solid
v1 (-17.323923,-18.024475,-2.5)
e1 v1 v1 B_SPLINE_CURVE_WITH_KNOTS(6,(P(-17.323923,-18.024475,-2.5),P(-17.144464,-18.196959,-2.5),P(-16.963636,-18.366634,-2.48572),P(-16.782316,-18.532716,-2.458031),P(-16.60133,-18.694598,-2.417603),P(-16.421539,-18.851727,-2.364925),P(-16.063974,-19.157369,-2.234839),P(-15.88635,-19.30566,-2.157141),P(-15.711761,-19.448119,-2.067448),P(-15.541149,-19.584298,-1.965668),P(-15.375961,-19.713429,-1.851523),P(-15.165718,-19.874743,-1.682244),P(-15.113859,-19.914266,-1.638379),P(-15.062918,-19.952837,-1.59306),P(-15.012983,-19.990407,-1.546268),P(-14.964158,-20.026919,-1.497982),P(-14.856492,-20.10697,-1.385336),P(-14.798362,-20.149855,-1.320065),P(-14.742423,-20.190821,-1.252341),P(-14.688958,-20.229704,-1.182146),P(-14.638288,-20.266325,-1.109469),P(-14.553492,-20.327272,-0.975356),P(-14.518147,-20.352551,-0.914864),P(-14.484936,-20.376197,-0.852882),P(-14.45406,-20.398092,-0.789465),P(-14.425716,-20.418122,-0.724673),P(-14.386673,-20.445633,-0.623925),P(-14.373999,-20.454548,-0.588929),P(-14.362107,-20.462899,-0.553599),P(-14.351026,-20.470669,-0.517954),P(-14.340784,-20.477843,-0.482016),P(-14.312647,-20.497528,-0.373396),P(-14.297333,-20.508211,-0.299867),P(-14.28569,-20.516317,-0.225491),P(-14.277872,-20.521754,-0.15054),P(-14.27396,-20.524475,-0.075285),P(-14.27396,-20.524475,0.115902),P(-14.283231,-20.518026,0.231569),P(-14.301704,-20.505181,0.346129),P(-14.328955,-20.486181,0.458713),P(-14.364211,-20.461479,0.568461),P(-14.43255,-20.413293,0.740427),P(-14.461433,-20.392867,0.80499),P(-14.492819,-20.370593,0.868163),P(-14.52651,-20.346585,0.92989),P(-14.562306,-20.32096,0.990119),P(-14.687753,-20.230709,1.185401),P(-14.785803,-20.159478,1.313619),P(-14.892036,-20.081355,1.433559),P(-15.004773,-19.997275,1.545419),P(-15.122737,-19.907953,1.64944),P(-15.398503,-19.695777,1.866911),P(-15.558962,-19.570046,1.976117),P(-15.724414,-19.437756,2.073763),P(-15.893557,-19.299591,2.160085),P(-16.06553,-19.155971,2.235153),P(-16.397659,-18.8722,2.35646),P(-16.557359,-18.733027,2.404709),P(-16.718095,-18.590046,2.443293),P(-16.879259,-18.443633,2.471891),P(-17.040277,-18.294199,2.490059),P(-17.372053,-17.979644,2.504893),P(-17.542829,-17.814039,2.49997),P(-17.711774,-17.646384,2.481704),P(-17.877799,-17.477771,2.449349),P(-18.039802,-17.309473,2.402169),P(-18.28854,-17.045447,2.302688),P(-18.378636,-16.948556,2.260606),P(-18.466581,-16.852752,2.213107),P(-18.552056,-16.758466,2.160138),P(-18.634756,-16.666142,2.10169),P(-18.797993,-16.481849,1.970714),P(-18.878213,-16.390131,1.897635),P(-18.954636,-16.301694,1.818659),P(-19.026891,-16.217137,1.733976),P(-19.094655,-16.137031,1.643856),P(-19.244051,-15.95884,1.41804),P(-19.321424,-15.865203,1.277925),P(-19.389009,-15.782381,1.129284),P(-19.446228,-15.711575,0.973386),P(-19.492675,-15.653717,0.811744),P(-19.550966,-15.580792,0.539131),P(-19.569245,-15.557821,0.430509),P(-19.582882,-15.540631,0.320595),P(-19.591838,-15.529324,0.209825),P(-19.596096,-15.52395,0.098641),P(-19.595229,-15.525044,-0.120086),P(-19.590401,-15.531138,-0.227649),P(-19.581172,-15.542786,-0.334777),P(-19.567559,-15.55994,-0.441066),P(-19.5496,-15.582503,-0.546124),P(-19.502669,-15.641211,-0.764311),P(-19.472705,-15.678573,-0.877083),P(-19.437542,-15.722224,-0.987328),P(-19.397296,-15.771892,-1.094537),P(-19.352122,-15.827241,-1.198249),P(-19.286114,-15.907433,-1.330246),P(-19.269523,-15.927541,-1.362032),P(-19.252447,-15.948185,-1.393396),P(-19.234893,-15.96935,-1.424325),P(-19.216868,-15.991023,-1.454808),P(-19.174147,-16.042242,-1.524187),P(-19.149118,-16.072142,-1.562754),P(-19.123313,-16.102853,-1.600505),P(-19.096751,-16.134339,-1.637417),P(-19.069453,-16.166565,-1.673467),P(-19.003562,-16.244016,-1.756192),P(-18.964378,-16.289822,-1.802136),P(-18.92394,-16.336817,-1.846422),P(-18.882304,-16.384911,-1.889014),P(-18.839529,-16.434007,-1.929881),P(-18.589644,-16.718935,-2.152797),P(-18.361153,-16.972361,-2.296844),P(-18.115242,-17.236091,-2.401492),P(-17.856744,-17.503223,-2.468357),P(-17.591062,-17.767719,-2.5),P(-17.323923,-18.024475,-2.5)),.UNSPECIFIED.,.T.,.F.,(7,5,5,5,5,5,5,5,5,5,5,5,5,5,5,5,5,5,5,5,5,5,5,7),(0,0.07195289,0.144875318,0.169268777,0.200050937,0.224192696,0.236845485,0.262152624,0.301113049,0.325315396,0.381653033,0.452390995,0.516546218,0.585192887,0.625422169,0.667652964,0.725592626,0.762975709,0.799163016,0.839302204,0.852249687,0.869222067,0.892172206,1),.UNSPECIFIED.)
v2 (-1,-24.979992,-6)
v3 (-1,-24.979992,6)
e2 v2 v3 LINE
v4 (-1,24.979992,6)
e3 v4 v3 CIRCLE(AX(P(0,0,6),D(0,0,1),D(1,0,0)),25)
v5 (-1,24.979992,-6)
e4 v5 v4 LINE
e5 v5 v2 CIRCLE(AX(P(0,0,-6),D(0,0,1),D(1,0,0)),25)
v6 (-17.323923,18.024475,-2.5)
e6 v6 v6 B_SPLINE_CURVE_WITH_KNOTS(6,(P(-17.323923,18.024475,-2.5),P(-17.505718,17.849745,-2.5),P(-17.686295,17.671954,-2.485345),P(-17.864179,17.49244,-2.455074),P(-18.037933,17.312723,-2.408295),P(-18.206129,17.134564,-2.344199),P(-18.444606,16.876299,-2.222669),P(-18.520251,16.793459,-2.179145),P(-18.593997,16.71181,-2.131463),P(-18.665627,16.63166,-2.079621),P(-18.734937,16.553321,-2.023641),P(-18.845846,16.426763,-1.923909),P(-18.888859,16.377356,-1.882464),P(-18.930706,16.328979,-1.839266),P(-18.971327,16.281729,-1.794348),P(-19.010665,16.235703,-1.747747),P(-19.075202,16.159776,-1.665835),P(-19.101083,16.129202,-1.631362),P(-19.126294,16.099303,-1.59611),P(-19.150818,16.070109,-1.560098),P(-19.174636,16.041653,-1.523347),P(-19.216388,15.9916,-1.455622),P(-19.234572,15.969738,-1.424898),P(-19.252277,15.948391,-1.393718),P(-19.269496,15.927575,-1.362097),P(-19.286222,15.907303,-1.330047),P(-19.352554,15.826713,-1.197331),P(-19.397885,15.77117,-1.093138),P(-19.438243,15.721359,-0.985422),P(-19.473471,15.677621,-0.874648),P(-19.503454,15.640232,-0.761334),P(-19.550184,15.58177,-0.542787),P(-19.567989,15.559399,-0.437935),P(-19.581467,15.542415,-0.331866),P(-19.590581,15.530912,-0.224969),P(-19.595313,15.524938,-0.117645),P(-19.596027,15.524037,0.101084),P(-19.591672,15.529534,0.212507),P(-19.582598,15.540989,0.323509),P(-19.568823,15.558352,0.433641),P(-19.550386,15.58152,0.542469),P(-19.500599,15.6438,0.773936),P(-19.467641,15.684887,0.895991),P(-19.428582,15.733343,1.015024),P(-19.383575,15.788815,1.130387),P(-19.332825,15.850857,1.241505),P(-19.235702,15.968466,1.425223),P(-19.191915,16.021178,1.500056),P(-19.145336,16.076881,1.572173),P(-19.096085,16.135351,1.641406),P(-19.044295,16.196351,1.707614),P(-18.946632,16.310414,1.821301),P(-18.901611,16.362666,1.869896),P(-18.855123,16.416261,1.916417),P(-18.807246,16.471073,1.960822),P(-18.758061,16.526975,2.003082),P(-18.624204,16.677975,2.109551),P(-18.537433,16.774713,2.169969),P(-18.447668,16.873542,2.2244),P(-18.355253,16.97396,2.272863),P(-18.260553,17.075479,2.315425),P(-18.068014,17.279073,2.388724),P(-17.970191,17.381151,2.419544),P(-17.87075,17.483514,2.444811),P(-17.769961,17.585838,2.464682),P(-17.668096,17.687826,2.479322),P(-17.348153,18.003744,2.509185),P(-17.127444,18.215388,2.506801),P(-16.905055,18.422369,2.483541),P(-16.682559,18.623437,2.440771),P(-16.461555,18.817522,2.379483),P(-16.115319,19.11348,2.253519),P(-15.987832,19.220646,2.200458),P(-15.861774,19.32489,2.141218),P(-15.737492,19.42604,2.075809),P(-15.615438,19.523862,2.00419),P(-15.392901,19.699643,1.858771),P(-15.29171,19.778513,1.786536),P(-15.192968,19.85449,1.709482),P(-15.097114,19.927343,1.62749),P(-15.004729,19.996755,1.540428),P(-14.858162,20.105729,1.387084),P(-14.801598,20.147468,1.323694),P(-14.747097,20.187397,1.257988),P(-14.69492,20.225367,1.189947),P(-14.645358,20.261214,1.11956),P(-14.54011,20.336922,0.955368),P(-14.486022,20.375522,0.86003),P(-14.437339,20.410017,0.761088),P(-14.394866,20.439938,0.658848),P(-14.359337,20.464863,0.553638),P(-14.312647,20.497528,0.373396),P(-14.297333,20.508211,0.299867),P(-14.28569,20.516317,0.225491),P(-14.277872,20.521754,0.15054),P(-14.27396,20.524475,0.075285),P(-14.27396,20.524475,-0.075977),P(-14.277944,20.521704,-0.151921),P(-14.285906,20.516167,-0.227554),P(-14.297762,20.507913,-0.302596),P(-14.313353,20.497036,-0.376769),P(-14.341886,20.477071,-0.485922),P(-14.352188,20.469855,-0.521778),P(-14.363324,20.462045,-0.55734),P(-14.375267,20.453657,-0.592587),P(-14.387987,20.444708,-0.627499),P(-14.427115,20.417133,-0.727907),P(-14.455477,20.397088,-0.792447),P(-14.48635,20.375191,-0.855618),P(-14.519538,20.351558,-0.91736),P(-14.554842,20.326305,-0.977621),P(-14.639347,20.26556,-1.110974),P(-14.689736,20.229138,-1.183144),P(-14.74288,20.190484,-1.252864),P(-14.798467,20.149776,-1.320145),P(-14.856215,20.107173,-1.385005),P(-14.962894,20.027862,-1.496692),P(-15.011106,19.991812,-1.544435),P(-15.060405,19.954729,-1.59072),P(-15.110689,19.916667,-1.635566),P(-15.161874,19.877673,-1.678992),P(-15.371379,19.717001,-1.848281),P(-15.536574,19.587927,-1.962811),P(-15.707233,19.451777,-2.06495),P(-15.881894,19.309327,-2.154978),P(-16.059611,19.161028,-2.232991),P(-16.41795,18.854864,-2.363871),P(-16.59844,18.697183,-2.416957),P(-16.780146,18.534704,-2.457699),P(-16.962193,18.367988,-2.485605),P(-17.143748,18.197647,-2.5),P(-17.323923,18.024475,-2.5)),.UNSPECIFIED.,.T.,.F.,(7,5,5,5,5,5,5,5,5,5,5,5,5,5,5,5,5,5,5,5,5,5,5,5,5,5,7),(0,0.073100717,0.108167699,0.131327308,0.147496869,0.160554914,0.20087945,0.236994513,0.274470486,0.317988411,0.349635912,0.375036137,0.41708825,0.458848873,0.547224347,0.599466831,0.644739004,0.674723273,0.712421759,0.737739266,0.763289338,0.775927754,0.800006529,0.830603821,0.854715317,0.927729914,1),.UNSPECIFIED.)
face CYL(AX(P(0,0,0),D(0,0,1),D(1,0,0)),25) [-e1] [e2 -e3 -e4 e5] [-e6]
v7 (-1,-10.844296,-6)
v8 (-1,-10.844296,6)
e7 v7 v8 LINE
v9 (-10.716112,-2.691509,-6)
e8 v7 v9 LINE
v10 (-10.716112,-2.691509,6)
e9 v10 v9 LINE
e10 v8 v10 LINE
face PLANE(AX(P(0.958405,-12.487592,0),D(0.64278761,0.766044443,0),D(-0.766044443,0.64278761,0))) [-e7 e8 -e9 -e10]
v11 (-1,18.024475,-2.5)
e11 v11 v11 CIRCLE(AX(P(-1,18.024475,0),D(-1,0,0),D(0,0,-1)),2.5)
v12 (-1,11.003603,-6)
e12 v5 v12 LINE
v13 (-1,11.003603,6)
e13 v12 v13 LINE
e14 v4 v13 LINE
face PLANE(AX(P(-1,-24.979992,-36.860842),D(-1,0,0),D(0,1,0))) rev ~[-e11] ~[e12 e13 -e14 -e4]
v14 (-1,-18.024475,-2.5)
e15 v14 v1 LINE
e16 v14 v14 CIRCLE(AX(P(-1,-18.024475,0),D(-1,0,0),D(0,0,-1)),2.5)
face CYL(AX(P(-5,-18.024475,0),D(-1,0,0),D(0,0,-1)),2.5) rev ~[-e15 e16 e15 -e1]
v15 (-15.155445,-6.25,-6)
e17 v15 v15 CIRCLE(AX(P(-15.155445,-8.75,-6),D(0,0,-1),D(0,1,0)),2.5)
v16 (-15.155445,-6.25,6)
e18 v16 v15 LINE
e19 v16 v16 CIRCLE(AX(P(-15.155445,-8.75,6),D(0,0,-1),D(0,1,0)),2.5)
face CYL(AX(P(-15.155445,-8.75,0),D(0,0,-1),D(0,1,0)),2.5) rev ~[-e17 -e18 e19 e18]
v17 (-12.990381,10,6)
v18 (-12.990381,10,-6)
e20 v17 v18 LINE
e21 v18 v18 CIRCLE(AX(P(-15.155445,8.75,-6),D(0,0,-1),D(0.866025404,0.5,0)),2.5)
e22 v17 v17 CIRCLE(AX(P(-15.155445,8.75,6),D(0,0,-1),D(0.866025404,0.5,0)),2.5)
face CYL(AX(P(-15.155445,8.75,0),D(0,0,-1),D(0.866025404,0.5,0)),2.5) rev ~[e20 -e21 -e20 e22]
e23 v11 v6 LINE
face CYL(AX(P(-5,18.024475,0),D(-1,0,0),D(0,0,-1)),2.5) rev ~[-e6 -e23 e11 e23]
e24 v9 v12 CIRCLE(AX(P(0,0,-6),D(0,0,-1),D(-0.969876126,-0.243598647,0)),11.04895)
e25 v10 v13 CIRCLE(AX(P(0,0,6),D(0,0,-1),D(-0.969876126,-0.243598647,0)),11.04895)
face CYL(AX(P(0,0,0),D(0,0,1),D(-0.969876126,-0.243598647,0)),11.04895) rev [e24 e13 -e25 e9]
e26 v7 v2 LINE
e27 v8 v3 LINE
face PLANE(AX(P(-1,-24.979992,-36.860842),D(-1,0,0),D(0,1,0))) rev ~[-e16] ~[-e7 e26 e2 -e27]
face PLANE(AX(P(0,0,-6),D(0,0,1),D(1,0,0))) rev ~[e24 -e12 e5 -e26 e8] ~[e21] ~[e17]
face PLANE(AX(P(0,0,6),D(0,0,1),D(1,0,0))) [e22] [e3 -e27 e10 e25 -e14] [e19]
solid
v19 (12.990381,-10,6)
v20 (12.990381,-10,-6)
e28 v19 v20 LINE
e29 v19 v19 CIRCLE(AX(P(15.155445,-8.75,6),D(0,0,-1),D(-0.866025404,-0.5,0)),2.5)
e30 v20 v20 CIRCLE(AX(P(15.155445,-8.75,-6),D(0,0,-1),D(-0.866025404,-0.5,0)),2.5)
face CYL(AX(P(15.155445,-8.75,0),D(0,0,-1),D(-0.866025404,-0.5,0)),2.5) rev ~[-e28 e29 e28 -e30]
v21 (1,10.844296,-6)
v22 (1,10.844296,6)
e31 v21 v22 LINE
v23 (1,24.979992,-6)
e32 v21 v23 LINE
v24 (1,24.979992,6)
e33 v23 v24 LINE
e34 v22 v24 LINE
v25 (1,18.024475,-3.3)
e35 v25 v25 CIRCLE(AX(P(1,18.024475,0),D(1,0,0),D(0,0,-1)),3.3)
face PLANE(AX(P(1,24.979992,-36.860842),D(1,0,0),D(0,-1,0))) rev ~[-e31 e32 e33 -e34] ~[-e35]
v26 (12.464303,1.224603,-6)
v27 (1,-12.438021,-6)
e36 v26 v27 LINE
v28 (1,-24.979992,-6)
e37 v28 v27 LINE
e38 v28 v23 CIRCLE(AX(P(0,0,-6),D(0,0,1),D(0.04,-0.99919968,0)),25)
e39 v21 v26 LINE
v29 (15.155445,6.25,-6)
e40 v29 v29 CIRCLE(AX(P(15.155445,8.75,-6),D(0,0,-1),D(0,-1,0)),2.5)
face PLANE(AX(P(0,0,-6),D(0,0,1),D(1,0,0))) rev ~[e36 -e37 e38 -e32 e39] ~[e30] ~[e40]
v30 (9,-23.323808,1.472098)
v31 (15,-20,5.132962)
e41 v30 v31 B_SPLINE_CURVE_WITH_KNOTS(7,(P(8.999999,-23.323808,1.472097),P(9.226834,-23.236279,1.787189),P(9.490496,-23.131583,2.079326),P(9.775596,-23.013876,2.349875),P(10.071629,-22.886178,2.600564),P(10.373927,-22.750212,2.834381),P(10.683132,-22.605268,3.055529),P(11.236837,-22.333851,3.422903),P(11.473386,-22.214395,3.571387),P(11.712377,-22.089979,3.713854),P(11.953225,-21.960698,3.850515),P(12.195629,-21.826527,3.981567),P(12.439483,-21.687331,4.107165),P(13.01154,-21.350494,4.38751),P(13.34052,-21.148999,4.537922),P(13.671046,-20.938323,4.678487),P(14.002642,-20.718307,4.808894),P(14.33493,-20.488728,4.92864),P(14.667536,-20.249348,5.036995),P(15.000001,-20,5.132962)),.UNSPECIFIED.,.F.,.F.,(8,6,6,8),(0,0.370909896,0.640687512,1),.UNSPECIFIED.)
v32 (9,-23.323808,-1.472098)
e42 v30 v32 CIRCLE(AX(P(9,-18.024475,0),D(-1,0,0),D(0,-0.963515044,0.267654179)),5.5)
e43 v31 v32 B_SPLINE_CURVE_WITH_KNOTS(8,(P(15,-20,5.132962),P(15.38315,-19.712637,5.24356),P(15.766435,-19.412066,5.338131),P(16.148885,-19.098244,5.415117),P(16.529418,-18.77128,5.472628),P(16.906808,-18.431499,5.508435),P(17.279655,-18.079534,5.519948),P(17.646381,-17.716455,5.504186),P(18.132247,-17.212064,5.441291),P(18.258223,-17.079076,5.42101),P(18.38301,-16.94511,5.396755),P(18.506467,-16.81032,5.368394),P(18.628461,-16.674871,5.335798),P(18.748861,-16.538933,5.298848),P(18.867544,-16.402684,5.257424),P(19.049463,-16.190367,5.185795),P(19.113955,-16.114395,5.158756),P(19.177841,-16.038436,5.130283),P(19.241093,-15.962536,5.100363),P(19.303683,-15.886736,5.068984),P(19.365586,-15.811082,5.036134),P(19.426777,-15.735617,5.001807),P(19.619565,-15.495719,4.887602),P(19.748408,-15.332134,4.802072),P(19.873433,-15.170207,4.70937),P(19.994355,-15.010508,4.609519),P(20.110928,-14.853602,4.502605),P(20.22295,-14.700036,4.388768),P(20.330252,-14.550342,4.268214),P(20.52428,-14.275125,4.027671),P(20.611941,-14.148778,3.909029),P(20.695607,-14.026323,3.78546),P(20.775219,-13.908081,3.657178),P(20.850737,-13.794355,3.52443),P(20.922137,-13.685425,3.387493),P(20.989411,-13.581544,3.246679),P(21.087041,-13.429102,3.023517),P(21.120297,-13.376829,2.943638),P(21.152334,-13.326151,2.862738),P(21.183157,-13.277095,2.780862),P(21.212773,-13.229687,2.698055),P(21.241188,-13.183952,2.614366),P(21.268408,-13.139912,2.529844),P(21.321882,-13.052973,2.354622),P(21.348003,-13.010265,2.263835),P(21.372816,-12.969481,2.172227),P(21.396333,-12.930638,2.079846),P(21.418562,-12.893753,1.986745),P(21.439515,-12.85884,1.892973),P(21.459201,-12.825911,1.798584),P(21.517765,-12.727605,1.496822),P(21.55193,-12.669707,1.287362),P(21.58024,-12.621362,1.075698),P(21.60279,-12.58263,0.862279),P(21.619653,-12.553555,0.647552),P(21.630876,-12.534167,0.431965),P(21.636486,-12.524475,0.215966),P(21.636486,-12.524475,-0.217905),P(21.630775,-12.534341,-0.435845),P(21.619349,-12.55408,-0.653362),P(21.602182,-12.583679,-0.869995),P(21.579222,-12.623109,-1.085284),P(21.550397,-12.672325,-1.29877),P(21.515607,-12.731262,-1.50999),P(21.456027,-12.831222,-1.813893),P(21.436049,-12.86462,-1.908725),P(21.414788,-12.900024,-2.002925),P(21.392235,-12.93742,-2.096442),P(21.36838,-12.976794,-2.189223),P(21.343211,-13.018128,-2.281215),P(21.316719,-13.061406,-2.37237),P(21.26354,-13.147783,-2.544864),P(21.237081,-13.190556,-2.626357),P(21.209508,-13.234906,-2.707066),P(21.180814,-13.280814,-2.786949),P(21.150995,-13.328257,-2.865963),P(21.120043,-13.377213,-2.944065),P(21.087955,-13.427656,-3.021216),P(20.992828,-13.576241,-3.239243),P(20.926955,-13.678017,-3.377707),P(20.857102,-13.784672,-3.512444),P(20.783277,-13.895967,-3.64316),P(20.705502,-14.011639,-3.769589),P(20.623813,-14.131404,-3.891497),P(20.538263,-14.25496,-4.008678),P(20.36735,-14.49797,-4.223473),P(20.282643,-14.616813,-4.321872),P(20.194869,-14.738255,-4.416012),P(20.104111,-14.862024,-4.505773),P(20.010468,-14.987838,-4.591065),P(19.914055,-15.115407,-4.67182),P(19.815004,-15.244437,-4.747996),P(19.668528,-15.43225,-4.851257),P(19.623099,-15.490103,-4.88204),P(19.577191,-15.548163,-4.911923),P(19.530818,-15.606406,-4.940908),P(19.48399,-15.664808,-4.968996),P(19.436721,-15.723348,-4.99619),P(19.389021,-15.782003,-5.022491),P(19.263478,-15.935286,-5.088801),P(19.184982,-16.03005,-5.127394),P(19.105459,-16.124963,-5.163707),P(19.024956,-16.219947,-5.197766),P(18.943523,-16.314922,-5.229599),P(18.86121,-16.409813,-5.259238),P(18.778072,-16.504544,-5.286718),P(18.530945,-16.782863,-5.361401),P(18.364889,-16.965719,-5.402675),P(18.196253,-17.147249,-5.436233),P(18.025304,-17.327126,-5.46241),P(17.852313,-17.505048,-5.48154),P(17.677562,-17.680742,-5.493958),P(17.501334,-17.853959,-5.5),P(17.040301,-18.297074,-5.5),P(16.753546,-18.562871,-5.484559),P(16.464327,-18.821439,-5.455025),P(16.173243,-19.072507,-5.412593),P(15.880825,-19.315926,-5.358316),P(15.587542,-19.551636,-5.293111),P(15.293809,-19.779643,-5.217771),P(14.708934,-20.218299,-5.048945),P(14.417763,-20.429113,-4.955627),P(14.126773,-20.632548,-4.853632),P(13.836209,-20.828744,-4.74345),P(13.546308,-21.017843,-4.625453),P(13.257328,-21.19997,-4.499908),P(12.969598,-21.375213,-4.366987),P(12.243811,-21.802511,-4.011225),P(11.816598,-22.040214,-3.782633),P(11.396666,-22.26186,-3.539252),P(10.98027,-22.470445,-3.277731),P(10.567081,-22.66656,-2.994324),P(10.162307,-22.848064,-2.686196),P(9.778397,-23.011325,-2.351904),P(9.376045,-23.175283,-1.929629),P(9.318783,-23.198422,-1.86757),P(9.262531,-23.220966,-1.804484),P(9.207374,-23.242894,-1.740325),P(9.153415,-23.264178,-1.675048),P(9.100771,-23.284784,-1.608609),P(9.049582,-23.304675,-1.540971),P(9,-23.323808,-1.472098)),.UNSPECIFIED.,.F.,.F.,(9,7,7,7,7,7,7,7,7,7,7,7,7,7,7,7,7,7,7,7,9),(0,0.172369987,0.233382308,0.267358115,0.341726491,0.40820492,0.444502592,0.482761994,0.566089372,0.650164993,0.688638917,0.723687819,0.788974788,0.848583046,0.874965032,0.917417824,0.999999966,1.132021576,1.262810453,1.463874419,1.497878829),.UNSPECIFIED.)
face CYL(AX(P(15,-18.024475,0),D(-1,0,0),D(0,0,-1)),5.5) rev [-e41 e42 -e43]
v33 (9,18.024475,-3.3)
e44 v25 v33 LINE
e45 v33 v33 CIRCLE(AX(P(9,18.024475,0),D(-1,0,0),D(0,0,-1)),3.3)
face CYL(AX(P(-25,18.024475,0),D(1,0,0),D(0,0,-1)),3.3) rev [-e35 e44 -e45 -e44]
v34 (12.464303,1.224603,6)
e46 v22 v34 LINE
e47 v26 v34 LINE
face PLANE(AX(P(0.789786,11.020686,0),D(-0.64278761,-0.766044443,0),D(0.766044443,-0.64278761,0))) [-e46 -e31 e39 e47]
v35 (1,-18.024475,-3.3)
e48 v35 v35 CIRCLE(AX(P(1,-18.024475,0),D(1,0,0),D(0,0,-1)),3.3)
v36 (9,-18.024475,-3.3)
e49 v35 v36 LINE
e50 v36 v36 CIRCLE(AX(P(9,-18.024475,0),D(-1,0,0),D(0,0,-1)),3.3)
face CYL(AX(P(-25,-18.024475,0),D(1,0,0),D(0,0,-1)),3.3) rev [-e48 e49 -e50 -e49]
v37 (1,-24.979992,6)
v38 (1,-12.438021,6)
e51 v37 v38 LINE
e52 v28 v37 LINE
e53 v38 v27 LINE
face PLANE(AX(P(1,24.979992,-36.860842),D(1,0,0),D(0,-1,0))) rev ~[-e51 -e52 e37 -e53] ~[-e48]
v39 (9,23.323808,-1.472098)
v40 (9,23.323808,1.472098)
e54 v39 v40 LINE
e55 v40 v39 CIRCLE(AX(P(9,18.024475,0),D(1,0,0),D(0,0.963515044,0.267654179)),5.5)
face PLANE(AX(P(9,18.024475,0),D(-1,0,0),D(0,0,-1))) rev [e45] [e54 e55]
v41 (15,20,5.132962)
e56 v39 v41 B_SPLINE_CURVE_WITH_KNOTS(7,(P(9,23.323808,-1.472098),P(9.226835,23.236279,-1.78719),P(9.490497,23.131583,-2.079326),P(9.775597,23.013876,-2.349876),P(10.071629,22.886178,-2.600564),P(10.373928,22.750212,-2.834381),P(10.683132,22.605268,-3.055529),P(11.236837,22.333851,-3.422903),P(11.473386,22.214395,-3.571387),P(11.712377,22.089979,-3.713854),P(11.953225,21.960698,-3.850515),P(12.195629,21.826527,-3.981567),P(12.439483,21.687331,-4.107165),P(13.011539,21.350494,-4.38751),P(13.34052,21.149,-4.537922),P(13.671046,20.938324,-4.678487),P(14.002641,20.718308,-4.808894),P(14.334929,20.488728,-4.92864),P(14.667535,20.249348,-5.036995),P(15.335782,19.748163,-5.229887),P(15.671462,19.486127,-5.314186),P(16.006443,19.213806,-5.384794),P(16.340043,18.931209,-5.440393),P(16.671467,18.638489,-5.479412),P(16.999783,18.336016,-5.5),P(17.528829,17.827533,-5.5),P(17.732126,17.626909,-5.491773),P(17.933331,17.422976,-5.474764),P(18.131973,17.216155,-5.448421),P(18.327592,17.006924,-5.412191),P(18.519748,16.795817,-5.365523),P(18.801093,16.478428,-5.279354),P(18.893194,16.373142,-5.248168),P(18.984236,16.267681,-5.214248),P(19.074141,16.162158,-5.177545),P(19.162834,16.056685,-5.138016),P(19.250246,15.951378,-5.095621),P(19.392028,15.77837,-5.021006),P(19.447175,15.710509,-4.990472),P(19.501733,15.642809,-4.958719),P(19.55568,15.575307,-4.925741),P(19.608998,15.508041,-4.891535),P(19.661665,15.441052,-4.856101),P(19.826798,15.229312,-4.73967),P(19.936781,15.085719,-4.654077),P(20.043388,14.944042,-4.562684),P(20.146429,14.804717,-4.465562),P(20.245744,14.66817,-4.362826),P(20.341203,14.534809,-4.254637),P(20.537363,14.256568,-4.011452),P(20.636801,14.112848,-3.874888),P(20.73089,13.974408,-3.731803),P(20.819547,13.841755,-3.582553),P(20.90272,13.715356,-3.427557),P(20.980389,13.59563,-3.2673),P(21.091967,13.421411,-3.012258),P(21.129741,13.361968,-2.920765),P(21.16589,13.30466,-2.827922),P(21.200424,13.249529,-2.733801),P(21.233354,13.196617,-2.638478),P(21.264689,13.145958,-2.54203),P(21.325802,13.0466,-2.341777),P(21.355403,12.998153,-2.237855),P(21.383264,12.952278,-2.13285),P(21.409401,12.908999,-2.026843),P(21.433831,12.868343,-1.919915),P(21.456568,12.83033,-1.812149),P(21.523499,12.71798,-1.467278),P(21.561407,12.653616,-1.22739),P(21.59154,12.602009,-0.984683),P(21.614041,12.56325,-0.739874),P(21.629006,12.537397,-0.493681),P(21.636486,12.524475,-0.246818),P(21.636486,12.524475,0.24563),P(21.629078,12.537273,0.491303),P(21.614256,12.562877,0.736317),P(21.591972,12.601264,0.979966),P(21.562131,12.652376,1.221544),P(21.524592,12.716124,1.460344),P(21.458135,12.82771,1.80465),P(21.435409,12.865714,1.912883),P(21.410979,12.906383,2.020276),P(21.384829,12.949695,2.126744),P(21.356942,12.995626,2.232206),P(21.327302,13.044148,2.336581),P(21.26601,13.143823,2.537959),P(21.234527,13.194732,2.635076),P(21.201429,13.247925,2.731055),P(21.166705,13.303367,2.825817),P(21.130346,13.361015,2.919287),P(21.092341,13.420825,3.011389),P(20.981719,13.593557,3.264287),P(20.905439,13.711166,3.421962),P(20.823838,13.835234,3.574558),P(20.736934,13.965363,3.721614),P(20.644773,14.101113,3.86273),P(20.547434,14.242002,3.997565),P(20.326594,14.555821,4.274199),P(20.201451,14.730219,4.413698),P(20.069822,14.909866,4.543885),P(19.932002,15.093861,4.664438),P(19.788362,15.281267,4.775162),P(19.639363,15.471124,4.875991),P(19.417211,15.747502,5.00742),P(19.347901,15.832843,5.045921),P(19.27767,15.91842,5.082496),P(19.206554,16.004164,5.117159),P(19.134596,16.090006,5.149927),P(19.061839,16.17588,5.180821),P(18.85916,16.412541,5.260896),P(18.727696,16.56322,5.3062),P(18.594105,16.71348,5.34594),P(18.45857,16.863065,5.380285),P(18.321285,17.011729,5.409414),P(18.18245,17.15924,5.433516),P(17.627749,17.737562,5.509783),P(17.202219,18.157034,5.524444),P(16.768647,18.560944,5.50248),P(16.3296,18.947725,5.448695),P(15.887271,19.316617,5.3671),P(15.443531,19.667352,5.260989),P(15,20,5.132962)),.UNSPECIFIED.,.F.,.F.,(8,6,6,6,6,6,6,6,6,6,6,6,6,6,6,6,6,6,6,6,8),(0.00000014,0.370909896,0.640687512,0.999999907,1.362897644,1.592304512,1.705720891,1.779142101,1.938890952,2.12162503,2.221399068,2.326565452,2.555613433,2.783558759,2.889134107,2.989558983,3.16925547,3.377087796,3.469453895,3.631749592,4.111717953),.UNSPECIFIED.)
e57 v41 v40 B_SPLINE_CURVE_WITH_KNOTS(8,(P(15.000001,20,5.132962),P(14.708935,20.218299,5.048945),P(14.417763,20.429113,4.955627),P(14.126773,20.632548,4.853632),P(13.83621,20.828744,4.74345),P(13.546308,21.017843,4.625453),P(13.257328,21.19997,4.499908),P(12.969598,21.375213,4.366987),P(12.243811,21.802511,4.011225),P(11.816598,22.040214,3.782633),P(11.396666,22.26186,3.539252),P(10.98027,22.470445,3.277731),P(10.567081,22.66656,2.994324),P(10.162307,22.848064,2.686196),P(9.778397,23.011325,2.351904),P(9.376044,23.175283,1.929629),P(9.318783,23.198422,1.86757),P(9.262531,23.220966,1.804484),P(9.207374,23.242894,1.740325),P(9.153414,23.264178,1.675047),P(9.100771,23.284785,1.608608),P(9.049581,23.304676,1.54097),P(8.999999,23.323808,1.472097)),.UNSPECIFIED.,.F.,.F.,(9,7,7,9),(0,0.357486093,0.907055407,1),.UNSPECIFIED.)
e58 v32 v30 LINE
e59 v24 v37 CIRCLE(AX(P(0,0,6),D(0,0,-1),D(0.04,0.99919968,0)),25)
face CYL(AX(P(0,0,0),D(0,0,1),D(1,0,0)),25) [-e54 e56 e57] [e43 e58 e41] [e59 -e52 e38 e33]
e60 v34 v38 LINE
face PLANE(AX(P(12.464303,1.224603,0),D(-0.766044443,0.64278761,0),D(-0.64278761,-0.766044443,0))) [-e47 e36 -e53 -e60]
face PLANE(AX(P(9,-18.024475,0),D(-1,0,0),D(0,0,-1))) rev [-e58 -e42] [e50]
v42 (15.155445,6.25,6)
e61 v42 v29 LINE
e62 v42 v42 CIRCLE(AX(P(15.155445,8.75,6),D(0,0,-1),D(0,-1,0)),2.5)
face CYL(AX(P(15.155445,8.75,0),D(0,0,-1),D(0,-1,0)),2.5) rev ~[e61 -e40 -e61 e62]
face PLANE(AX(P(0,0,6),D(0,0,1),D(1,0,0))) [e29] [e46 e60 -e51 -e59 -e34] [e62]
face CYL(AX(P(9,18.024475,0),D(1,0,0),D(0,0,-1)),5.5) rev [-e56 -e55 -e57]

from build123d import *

# Parameters (mm, degrees)
SKETCH_7_R                  = 25
EXTRUDE_1_DEPTH             = 6
CUT_EXTRUDE_1_DEPTH         = 36.860842154
CUT_EXTRUDE_1_DEPTH_BACK    = 36.860842154
SKETCH_18_W                 = 2.5
SKETCH_18_H                 = 12
PATTERN_CIRCULAR_2_COUNT    = 6
HOLE_WIZARD_M6_1_AT_2_COUNT = 2
HOLE_WIZARD_M6_1_AT_2_PITCH = 36.048949672
SKETCH_29_W                 = 2.5
SKETCH_29_H                 = 40
M6X1_0_3_AT_2_COUNT         = 2
M6X1_0_3_AT_2_PITCH         = 36.048949672
SKETCH_30_R                 = 5.5
CUT_EXTRUDE_2_DEPTH         = 48.539457445


with BuildPart() as part:
    # 스케치7 → 보스-돌출1 (new, symmetric)
    with BuildSketch(Plane.XY):
        Circle(SKETCH_7_R)
        with BuildLine():
            Line((12.464303027, 1.224603167), (0.958404813, -12.487592365))
            Line((0.958404813, -12.487592365), (-10.7161125, -2.691509193))
            ThreePointArc((-10.7161125, -2.691509193), (-8.463986498, 7.102127949), (0.789785713, 11.020686339))
            Line((0.789785713, 11.020686339), (12.464303027, 1.224603167))
        make_face(mode=Mode.SUBTRACT)
    extrude(amount=EXTRUDE_1_DEPTH, both=True)

    # 스케치19 → 컷-돌출1 (cut, two sides: drawn at the far end of the back side and taken through both)
    with BuildSketch(Plane.XY.offset(-CUT_EXTRUDE_1_DEPTH_BACK)):
        with BuildLine():
            Line((1, 24.979991994), (1, -24.979991994))
            ThreePointArc((1, -24.979991994), (0, -25), (-1, -24.979991994))
            Line((-1, -24.979991994), (-1, 24.979991994))
            ThreePointArc((-1, 24.979991994), (0, 25), (1, 24.979991994))
        make_face()
    extrude(amount=CUT_EXTRUDE_1_DEPTH + CUT_EXTRUDE_1_DEPTH_BACK, mode=Mode.SUBTRACT)


with BuildPart() as cut_extrude_1_piece_1:
    # of the separate pieces the step leaves, piece 1, a body of its own (cut_extrude_1_pieces)
    add(part.part.solids().sort_by_distance((1, 24.979991994, 6))[0])

    # 스케치18 → M6x1.0 나사 구멍1 (revolve, cut)
    with BuildSketch(Plane(origin=(15.155444566, 8.75, 6), x_dir=(0, -1, 0), z_dir=(1, 0, 0))):
        with Locations((1.25, 6)):
            Rectangle(SKETCH_18_W, SKETCH_18_H)
    m6x1_0_1 = revolve(axis=Axis((15.155444566, 8.75, 12.35), (0, 0, -1)), mode=Mode.SUBTRACT)


with BuildPart() as cut_extrude_1_piece_2:
    # of the separate pieces the step leaves, piece 2, a body of its own (cut_extrude_1_pieces)
    add(part.part.solids().sort_by_distance((-1, 24.979991994, -6))[0])


with BuildPart() as pattern_circular_2_tool:
    # 원형 패턴2: M6x1.0 나사 구멍1 ×6 about axis, 2 skipped
    pattern_circular_2_axis = Axis((0, 0, 0), (0, 0, -1))
    add([m6x1_0_1.rotate(pattern_circular_2_axis, i * 360 / PATTERN_CIRCULAR_2_COUNT) for i in range(1, PATTERN_CIRCULAR_2_COUNT) if i not in (2, 5)])


with BuildPart() as cut_extrude_1_piece_1_1:
    add(cut_extrude_1_piece_1.part)

    # 원형 패턴2: cut by pattern_circular_2_tool
    add(pattern_circular_2_tool.part, mode=Mode.SUBTRACT)

    # 스케치23 → M6 소켓 머리 캡 나사용 카운터보어1 (revolve, cut)
    with BuildSketch(Plane(origin=(15, 18.024474836, 0), x_dir=(0, 0, -1), z_dir=(0, 1, 0))):
        Polygon((0, 0), (0, 40), (3.3, 40), (3.3, 6), (5.5, 6), (5.5, 0), align=None)
    hole_wizard_m6_1 = revolve(axis=Axis((21.35, 18.024474836, 0), (-1, 0, 0)), mode=Mode.SUBTRACT)

    # M6 소켓 머리 캡 나사용 카운터보어1 at 2: M6 소켓 머리 캡 나사용 카운터보어1 ×2
    with Locations(*[(0, -i * HOLE_WIZARD_M6_1_AT_2_PITCH, 0) for i in range(1, HOLE_WIZARD_M6_1_AT_2_COUNT)]):
        add(hole_wizard_m6_1, mode=Mode.SUBTRACT)

    # 스케치30 → 컷-돌출2 (cut, through all)
    with BuildSketch(Plane(origin=(15, 0, 0), x_dir=(0, 0, -1), z_dir=(1, 0, 0))):
        with Locations((0, 18.024474836)):
            Circle(SKETCH_30_R)
        with Locations((0, -18.024474836)):
            Circle(SKETCH_30_R)
    extrude(amount=CUT_EXTRUDE_2_DEPTH, mode=Mode.SUBTRACT)


with BuildPart() as cut_extrude_1_piece_2_1:
    add(cut_extrude_1_piece_2.part)

    # 원형 패턴2: cut by pattern_circular_2_tool
    add(pattern_circular_2_tool.part, mode=Mode.SUBTRACT)

    # 스케치29 → M6x1.0 나사 구멍3 (revolve, cut)
    with BuildSketch(Plane(origin=(15, 18.024474836, 0), x_dir=(0, 0, -1), z_dir=(0, 1, 0))):
        with Locations((1.25, 20)):
            Rectangle(SKETCH_29_W, SKETCH_29_H)
    m6x1_0_3 = revolve(axis=Axis((21.35, 18.024474836, 0), (-1, 0, 0)), mode=Mode.SUBTRACT)

    # M6x1.0 나사 구멍3 at 2: M6x1.0 나사 구멍3 ×2
    with Locations(*[(0, -i * M6X1_0_3_AT_2_PITCH, 0) for i in range(1, M6X1_0_3_AT_2_COUNT)]):
        add(m6x1_0_3, mode=Mode.SUBTRACT)


solid = Compound([cut_extrude_1_piece_1_1.part, cut_extrude_1_piece_2_1.part])
